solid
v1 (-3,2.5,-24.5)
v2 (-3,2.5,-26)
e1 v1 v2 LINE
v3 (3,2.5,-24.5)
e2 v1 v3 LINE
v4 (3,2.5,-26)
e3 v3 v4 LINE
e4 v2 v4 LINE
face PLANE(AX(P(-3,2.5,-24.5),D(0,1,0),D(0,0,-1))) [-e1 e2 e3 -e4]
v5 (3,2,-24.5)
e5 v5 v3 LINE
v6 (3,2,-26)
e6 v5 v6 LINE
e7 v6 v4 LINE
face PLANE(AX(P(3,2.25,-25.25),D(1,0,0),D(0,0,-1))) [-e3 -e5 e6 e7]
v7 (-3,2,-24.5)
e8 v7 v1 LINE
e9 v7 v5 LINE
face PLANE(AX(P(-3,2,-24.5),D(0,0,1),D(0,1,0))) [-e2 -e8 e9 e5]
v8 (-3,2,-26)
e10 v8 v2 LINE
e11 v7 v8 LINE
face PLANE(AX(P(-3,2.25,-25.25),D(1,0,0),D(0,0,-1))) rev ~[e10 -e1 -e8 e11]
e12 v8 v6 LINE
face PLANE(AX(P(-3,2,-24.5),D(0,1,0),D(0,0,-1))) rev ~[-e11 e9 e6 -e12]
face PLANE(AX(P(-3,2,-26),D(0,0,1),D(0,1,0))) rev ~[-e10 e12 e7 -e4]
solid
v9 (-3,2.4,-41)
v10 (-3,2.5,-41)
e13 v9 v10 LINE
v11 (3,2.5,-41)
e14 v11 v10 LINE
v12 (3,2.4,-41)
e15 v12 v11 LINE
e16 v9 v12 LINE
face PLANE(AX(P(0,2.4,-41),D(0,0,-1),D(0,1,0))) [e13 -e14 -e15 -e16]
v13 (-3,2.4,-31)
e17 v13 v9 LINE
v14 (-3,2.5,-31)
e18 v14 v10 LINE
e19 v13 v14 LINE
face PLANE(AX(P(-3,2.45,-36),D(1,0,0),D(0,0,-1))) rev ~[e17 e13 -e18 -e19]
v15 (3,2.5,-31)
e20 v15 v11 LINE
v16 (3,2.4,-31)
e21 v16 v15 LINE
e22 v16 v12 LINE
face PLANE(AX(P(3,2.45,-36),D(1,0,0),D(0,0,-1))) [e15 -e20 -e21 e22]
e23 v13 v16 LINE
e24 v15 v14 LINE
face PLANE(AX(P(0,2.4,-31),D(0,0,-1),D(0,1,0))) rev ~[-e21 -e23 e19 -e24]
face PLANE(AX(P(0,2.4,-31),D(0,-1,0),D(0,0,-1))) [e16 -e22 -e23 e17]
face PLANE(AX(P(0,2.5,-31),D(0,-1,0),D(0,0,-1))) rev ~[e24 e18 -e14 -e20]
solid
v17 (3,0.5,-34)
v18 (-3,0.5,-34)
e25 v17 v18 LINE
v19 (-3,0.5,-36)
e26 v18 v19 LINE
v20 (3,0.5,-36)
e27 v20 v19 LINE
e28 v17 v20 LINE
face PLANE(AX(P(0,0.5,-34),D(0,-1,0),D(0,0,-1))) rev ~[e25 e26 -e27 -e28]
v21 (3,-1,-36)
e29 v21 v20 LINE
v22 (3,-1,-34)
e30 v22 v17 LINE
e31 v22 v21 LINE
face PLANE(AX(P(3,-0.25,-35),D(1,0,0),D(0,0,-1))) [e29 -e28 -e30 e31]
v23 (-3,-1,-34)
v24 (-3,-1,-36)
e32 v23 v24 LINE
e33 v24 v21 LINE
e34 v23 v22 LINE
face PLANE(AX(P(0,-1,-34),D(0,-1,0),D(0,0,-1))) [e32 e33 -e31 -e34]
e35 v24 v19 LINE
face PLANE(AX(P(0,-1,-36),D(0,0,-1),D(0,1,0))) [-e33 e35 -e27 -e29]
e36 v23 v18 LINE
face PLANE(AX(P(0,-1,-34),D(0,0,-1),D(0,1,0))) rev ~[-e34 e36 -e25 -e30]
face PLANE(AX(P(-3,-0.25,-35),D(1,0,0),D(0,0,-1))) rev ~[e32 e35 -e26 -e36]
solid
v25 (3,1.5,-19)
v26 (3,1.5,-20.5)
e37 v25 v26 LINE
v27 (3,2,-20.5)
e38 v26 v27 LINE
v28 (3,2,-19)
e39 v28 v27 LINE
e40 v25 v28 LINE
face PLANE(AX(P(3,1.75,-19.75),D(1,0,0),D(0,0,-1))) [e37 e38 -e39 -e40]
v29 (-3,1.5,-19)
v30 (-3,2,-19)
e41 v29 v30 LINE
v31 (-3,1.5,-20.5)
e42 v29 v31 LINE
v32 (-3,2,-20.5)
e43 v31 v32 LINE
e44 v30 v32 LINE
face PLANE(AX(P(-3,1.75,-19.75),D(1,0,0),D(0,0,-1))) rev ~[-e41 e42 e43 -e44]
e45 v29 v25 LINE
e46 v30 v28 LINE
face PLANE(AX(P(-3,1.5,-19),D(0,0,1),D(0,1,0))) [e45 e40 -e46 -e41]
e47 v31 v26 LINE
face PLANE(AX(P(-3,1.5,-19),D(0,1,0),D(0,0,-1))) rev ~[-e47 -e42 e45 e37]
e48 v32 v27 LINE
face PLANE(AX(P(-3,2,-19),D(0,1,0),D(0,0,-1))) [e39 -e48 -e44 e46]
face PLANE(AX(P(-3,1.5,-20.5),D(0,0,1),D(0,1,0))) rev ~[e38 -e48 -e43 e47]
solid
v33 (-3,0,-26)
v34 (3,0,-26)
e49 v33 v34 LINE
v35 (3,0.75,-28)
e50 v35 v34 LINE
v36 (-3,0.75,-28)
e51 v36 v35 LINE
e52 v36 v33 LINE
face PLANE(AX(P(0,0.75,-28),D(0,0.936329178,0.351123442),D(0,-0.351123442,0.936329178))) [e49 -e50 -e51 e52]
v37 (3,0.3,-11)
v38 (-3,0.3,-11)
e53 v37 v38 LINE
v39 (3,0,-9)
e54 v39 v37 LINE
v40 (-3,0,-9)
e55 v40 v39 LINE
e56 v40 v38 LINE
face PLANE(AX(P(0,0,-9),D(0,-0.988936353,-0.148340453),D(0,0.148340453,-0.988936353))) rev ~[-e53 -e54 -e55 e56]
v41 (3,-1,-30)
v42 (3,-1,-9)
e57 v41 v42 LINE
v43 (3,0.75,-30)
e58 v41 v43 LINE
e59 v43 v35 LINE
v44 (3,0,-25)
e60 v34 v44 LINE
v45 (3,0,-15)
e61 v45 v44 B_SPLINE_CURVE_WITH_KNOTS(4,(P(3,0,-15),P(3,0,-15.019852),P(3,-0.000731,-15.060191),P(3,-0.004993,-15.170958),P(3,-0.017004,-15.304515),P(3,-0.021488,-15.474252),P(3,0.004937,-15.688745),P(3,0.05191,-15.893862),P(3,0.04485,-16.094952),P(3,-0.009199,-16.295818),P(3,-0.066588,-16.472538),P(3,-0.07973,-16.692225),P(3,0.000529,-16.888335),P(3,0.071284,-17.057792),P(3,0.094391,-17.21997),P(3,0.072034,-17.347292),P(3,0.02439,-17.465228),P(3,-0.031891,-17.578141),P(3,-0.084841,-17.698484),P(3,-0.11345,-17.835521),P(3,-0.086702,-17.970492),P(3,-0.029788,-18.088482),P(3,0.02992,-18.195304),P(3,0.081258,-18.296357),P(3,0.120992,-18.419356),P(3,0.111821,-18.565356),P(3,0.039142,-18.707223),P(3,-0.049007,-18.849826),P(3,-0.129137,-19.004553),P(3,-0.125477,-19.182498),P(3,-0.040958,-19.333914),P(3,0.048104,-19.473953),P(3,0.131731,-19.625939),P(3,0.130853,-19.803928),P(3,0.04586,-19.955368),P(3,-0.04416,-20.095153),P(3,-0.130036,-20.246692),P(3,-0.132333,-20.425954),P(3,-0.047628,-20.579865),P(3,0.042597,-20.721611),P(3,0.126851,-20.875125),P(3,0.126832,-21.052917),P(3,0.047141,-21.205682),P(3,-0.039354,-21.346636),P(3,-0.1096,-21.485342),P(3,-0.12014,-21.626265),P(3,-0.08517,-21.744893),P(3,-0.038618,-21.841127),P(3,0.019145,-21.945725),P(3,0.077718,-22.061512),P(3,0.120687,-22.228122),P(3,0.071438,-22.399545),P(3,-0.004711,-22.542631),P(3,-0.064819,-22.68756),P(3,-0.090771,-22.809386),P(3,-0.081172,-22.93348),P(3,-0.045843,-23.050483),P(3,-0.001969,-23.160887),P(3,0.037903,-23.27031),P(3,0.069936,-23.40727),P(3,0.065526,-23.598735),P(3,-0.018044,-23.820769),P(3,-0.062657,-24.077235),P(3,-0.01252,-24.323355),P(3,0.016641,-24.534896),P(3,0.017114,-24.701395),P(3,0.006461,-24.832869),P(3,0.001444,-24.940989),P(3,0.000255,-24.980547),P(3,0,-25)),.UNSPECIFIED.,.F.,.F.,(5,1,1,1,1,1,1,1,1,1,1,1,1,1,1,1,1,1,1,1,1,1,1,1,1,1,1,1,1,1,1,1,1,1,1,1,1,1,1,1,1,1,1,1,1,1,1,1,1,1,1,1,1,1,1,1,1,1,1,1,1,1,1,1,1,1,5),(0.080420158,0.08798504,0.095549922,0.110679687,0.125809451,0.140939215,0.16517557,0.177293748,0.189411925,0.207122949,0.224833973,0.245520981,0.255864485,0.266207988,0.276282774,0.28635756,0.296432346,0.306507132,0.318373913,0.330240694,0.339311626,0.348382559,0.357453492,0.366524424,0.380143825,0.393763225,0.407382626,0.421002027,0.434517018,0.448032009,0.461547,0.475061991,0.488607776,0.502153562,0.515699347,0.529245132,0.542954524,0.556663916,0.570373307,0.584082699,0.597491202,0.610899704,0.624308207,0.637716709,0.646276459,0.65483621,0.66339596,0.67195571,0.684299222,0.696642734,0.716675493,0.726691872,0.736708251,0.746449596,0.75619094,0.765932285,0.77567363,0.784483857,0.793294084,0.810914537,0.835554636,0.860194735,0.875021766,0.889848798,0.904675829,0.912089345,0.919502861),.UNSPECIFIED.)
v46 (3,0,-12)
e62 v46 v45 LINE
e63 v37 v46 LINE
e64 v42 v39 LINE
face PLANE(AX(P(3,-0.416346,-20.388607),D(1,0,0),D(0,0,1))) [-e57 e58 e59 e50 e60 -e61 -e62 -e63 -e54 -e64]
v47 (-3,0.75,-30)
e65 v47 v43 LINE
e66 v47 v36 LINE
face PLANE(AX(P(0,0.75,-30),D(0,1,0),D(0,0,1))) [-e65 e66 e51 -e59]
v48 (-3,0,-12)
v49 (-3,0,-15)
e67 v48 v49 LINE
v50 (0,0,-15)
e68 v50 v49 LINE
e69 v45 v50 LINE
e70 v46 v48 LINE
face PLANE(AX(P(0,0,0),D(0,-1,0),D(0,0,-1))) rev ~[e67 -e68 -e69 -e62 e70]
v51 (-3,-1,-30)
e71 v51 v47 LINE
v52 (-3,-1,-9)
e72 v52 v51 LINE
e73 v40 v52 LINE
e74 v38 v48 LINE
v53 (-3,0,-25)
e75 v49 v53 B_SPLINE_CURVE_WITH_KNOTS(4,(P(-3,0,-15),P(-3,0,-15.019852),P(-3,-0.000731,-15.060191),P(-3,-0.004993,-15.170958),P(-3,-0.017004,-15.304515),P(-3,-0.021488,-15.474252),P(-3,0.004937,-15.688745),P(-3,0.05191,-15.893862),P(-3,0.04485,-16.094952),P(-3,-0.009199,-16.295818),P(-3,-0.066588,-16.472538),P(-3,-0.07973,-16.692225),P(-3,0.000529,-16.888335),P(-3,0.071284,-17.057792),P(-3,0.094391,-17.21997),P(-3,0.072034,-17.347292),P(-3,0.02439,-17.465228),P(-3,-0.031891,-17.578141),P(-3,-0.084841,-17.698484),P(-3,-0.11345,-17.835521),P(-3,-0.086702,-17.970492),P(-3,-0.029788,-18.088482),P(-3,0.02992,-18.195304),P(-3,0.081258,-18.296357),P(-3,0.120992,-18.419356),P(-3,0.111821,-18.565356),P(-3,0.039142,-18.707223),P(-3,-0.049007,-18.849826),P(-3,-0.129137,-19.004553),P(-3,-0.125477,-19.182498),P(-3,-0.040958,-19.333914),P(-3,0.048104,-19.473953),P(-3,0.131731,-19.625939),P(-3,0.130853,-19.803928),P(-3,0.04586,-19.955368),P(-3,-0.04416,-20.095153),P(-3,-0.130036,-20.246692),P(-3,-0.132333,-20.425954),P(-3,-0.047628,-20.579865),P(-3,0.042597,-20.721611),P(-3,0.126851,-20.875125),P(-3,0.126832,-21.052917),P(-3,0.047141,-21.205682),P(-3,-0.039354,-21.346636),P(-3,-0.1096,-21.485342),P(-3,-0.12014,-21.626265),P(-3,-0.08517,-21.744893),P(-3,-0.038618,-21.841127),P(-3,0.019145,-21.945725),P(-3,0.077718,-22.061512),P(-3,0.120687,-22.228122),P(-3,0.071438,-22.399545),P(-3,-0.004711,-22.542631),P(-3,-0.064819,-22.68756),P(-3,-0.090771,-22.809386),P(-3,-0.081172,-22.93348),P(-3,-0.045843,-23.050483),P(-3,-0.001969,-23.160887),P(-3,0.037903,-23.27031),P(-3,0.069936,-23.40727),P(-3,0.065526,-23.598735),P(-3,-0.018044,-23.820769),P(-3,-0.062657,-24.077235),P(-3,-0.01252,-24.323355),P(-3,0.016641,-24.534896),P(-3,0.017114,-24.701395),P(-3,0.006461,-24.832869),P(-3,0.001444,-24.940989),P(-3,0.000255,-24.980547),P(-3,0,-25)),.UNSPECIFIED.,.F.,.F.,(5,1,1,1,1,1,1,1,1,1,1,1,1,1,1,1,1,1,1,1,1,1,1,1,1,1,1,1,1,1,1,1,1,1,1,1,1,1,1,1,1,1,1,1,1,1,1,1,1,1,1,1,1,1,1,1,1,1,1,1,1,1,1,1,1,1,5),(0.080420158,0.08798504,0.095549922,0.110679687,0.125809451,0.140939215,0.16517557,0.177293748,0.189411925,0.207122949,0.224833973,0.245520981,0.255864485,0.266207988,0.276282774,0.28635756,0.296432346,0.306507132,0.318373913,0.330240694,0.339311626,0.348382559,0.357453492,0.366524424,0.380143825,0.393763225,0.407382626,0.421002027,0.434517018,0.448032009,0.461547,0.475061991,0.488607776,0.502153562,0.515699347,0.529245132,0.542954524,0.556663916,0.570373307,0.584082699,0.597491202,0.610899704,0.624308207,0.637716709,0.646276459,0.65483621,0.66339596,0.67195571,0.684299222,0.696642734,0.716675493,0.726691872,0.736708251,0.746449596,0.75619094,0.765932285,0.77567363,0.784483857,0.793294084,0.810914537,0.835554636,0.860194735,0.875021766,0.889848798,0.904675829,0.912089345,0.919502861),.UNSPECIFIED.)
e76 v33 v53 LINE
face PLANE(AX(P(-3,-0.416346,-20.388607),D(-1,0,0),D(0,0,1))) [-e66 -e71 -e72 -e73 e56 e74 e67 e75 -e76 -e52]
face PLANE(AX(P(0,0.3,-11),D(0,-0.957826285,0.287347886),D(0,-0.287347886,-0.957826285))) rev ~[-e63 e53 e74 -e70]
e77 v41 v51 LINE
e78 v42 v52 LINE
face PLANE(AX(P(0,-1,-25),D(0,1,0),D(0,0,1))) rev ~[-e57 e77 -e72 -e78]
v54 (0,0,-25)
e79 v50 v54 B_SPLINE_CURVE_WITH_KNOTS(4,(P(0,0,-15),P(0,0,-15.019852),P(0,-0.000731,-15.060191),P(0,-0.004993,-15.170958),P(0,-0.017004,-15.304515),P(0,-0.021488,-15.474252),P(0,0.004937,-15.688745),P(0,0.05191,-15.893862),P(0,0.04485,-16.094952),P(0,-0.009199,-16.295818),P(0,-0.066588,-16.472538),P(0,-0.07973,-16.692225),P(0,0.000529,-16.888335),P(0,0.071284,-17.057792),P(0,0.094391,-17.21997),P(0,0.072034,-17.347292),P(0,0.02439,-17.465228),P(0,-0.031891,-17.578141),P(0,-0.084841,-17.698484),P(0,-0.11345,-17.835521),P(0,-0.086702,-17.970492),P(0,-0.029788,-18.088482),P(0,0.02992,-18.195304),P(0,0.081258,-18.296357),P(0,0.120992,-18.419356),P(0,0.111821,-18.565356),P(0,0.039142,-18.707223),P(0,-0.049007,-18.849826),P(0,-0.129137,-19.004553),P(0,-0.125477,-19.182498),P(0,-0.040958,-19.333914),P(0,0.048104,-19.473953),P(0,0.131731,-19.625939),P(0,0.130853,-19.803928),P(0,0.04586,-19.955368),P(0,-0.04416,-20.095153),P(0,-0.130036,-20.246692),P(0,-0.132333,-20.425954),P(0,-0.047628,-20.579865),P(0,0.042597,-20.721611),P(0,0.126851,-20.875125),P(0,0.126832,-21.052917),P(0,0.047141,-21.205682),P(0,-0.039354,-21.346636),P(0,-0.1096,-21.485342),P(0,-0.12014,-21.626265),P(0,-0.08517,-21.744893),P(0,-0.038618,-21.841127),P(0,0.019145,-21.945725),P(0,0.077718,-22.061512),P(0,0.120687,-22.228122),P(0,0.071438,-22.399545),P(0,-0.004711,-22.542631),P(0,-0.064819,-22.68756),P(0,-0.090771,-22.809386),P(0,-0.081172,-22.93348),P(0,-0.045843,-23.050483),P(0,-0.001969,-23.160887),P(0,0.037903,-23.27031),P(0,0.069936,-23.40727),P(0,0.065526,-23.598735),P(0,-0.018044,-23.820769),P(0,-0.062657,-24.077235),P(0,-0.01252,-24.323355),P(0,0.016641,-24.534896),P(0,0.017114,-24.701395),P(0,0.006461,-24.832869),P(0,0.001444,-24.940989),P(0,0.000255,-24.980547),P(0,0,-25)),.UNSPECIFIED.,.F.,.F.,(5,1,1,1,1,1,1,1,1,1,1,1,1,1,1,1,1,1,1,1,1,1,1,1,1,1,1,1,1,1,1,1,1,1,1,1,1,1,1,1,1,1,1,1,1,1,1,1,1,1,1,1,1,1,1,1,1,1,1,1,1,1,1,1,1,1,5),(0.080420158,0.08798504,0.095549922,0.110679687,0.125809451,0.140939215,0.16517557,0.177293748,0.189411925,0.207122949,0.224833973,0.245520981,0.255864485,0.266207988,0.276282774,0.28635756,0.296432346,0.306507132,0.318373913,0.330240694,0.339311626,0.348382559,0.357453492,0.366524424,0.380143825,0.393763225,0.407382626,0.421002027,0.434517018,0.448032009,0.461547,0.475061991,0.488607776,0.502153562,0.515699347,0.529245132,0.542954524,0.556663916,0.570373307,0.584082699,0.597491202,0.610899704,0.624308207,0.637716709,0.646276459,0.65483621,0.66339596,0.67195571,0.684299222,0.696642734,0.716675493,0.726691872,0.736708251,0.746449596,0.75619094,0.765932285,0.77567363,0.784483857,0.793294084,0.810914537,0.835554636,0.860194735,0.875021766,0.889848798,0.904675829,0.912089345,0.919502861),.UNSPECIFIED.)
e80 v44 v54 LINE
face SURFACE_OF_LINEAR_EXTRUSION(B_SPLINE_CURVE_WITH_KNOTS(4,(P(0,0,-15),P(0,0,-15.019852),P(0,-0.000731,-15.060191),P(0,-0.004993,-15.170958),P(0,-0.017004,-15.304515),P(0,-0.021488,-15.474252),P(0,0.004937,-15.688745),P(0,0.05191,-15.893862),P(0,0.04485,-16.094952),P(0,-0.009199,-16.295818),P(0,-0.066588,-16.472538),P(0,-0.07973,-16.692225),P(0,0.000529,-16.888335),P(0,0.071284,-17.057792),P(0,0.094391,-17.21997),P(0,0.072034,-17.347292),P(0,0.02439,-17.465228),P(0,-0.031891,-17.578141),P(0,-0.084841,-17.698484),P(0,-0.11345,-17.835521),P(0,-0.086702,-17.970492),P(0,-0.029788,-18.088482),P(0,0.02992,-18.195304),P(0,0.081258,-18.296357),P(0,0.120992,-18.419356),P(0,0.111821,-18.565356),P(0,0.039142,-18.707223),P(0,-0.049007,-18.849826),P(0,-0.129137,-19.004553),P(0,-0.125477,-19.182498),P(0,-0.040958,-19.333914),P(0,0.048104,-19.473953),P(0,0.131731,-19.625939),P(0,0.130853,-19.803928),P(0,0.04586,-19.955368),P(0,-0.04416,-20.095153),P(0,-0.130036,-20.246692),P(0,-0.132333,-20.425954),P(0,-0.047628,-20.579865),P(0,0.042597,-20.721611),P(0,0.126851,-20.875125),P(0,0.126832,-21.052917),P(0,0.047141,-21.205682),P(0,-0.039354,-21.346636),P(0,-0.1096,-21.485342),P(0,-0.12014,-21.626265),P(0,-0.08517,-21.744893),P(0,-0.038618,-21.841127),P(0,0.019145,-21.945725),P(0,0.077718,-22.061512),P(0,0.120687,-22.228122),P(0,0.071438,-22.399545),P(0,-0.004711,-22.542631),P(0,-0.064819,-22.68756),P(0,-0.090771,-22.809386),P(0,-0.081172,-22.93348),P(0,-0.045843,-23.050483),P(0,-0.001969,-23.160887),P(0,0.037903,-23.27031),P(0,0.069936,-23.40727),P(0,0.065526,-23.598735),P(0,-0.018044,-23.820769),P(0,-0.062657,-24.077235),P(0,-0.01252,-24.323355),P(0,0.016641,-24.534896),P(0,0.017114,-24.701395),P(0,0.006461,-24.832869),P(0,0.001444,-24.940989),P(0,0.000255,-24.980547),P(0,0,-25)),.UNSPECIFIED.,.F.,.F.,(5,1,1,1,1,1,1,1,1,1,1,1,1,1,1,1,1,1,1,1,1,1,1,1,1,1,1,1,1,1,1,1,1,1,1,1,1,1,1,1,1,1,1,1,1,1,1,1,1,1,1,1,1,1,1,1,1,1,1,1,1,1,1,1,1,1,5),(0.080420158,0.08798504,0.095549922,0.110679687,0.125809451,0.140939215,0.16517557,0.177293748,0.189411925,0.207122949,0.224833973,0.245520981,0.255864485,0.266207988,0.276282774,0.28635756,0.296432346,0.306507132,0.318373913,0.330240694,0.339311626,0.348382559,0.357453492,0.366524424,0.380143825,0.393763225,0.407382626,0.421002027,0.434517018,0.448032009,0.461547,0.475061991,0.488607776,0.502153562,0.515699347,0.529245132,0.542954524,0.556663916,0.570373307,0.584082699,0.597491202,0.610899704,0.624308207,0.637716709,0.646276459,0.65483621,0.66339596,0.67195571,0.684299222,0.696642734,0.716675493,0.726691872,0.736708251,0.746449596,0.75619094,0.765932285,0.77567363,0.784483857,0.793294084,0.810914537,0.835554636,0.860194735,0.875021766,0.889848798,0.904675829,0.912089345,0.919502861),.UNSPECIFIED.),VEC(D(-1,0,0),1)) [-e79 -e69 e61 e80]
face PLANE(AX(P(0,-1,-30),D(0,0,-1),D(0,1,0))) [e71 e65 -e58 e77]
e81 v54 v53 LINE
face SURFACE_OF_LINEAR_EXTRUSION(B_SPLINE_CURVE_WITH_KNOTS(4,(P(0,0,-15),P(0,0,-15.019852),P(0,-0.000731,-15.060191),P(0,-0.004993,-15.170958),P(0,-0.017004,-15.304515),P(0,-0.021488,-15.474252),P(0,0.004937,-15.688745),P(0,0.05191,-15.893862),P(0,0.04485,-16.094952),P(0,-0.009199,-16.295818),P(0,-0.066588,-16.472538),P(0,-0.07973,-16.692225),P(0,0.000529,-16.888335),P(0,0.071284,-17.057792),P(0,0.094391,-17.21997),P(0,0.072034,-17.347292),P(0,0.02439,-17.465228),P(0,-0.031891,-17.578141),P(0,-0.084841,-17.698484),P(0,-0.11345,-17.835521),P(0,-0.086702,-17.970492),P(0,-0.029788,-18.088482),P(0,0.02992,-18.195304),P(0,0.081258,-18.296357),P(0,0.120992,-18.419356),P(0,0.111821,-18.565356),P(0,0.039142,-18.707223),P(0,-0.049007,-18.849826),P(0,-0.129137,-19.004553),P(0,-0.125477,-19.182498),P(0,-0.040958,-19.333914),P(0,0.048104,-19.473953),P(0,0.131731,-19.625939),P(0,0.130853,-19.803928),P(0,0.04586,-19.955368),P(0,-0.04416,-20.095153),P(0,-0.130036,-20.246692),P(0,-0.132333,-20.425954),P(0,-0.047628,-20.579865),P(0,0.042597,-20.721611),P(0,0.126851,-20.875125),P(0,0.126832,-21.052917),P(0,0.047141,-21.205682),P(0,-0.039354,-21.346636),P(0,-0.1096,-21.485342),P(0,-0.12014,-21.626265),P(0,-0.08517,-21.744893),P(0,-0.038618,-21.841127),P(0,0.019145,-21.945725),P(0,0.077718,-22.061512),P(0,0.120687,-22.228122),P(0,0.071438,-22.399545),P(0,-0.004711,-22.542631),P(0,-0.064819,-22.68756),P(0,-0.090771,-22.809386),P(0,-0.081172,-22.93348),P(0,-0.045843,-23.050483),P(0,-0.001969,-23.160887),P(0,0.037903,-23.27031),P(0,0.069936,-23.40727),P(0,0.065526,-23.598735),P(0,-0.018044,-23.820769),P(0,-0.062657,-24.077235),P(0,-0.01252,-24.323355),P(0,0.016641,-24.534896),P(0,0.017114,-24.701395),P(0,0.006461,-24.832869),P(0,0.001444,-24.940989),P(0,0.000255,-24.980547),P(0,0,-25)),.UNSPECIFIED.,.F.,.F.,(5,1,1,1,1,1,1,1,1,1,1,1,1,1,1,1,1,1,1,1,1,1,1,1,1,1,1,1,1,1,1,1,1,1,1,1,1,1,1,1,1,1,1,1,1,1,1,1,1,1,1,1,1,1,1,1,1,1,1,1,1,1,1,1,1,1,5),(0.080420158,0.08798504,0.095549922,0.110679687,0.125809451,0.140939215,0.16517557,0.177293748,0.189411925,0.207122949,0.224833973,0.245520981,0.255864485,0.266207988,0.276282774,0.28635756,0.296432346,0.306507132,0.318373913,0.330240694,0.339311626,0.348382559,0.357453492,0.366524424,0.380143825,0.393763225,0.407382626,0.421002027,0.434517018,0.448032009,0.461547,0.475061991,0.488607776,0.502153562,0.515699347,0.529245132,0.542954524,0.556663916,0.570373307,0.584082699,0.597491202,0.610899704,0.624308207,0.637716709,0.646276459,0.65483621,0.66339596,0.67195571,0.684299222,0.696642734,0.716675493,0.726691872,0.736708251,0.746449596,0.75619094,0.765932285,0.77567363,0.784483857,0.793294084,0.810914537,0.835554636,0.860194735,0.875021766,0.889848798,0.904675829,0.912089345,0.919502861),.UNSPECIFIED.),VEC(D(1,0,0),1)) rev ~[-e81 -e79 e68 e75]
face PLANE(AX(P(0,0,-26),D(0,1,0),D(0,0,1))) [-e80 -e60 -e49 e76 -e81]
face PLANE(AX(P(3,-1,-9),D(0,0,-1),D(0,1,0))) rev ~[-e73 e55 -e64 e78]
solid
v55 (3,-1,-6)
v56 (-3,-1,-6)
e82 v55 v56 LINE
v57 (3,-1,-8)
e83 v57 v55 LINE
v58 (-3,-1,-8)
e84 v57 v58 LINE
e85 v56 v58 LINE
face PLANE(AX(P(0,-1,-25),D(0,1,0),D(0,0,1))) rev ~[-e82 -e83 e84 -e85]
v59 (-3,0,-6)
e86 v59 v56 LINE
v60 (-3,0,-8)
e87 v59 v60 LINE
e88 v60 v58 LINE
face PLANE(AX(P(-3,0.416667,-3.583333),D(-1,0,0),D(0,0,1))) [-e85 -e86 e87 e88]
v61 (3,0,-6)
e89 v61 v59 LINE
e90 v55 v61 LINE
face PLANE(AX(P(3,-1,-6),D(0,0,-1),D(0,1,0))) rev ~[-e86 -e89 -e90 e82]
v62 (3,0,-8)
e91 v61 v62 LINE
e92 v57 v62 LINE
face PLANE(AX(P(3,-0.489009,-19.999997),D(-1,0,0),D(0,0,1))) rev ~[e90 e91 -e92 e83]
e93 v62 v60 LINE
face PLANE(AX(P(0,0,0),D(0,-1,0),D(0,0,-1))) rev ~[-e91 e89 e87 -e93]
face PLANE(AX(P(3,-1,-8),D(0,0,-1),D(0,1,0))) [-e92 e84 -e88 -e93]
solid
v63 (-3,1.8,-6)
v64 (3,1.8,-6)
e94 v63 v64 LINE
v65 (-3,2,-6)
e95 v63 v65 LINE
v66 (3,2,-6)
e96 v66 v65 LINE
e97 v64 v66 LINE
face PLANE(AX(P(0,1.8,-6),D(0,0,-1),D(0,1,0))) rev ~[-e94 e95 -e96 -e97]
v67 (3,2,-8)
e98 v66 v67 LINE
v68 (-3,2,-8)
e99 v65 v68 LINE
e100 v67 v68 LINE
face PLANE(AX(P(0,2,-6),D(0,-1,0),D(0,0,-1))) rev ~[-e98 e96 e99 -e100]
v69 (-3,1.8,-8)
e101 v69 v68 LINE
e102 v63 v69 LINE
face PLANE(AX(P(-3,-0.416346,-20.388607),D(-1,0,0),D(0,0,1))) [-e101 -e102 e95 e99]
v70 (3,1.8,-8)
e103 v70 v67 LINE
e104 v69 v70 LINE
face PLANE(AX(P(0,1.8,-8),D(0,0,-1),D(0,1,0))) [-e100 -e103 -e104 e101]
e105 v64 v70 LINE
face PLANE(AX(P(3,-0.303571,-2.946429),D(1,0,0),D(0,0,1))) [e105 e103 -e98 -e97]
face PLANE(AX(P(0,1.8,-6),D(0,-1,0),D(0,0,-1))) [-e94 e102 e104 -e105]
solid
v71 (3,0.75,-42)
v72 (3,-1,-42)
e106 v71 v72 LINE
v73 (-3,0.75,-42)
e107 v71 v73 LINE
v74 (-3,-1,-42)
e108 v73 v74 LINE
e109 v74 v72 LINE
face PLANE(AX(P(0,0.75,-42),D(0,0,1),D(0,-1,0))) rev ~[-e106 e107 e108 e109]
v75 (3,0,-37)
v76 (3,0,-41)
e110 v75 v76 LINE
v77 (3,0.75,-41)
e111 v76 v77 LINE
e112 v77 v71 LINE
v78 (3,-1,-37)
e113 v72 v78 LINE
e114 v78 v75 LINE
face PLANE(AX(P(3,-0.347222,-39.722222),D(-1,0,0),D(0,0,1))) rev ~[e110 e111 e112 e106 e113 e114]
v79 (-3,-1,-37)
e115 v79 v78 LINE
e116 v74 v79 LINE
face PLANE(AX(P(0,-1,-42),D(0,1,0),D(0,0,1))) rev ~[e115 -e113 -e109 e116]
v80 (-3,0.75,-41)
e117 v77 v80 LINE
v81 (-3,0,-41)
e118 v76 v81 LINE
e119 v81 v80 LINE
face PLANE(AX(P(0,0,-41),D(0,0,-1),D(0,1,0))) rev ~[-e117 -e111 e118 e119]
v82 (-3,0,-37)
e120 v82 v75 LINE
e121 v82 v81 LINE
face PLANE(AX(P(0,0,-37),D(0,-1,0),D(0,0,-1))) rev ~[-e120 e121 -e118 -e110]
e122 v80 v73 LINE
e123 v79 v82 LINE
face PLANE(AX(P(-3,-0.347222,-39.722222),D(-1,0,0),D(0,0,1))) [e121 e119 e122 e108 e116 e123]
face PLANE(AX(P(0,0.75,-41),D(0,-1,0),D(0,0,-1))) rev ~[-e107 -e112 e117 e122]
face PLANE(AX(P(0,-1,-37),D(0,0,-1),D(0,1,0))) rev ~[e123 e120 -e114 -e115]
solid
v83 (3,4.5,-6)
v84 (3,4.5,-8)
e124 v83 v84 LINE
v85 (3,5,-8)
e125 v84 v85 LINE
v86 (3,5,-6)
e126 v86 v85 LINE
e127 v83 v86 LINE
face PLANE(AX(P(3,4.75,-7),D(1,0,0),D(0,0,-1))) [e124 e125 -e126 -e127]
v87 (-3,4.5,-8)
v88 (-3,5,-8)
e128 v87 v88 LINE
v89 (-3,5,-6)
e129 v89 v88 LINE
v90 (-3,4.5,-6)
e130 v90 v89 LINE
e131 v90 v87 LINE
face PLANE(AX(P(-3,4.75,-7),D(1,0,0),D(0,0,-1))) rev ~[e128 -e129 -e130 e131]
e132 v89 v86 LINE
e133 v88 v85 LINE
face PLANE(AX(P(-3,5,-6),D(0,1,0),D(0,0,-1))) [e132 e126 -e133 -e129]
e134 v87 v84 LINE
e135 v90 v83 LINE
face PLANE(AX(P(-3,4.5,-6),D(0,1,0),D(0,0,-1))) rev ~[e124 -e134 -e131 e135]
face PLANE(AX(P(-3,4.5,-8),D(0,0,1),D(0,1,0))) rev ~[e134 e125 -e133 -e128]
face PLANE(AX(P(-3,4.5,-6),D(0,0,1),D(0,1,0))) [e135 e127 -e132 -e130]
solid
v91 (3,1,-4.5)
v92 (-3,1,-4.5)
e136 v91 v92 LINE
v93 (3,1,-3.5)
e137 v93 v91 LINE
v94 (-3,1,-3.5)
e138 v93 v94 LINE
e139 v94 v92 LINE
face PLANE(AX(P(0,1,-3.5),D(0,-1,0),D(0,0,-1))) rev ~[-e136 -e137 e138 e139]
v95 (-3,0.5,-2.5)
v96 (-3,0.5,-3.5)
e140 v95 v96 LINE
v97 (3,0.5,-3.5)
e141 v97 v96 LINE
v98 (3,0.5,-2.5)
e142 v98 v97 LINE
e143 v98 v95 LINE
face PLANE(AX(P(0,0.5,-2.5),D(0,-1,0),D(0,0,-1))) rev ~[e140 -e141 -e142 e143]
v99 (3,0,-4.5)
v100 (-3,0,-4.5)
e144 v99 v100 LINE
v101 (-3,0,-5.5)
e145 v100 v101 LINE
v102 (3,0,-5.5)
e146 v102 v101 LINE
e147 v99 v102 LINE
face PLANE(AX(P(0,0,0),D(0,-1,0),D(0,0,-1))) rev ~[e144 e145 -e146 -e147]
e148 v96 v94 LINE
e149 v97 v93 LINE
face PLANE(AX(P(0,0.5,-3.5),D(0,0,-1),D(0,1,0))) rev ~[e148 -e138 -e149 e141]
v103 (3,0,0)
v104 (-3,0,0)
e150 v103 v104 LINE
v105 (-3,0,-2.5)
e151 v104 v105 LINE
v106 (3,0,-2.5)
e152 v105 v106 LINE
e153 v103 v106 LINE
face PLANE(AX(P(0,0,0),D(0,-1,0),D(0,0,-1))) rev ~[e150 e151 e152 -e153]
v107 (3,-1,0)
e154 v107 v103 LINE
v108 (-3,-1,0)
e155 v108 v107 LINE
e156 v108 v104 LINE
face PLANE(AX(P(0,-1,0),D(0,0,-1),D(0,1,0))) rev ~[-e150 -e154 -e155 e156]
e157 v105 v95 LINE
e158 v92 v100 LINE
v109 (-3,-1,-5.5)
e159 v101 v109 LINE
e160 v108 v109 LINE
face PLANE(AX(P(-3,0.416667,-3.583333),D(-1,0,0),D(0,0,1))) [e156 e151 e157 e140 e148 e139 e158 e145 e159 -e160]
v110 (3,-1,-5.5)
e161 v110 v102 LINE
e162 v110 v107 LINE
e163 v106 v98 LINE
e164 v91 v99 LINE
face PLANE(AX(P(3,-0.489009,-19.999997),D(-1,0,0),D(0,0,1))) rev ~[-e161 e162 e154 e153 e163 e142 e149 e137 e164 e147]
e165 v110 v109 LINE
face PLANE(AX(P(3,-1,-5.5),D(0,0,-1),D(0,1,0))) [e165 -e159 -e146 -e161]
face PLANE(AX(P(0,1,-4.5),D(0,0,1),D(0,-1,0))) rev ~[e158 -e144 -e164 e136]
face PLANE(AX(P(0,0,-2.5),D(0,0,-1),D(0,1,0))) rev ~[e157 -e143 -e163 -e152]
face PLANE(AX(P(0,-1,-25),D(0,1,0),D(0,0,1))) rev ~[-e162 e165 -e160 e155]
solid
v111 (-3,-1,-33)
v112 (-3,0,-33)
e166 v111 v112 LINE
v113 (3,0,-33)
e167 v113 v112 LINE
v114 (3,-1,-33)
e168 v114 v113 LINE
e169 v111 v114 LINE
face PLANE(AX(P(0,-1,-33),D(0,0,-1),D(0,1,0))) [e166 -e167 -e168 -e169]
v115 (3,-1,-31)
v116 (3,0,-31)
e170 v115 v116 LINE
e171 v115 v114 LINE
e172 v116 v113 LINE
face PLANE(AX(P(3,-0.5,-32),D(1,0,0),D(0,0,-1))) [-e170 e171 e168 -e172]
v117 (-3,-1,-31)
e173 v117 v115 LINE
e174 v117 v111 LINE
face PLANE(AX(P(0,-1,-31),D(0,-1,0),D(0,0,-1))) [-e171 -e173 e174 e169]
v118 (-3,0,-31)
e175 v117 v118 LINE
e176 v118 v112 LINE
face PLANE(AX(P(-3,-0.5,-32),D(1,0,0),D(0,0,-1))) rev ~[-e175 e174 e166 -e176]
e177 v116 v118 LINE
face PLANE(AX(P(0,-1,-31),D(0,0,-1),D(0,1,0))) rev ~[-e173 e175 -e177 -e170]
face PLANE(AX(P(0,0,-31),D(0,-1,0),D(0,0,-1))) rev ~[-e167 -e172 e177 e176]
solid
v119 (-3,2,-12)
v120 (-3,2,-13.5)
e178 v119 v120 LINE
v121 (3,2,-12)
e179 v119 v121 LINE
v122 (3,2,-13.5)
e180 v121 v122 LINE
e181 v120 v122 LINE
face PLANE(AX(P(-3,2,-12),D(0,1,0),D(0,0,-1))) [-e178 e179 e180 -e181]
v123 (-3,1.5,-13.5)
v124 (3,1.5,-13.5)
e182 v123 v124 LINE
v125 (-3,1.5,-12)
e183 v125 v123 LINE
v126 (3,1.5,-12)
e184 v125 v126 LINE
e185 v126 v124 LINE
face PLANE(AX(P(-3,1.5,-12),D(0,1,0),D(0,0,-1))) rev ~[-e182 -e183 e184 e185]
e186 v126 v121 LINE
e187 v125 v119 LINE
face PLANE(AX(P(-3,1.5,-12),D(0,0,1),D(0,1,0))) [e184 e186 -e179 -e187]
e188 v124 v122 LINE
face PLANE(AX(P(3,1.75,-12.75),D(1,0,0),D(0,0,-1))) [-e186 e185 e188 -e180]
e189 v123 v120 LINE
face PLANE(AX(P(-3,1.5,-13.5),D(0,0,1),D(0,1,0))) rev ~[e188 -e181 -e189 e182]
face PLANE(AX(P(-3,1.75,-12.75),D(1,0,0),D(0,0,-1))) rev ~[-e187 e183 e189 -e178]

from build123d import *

# Parameters (mm, degrees)
EXTRUDE_1_DEPTH             = 3
EXTRUDE_1_2_DEPTH           = 3
SKETCH_1_W                  = 10
SKETCH_1_H                  = 0.1
EXTRUDE_1_3_DEPTH           = 3
SKETCH_1_W_2                = 2
SKETCH_1_H_2                = 1.5
EXTRUDE_1_4_DEPTH           = 3
SKETCH_1_H_3                = 1
EXTRUDE_1_5_DEPTH           = 3
SKETCH_1_W_3                = 15
EXTRUDE_1_6_DEPTH           = 3
EXTRUDE_2_DEPTH             = 3
EXTRUDE_2_DEPTH_BACK        = 3
EXTRUDE_3_DEPTH             = 3
EXTRUDE_3_DEPTH_BACK        = 3
CUT_EXTRUDE_START           = 3
SKETCH_4_W                  = 0.5
SKETCH_4_H                  = 1
SKETCH_4_W_2                = 1
CUT_EXTRUDE_1_DEPTH         = 7.0000001
EXTRUDE_4_REACH             = 5
SKETCH_5_W                  = 2
SKETCH_5_H                  = 0.2
EXTRUDE_4_DIRECTION_2_REACH = 5
EXTRUDE_5_REACH             = 5
EXTRUDE_5_DIRECTION_2_REACH = 5
EXTRUDE_START               = -3
SKETCH_7_W                  = 1.5
SKETCH_7_H                  = 0.5
EXTRUDE_6_DEPTH             = 6
EXTRUDE_6_2_DEPTH           = 6
EXTRUDE_6_3_DEPTH           = 6
SKETCH_7_W_2                = 2
EXTRUDE_6_4_DEPTH           = 6


with BuildPart() as part:
    # 草图1 → 凸台-拉伸1 (new body, symmetric)
    with BuildSketch(Plane(origin=(0, 0, 0), x_dir=(0, 0, -1), z_dir=(1, 0, 0))):
        Polygon((37, 0), (41, 0), (41, 0.75), (42, 0.75), (42, -1), (37, -1), align=None)
    extrude(amount=EXTRUDE_1_DEPTH, both=True)


with BuildPart() as body_2:
    # 草图1 → Extrude 1 2 (new body, symmetric)
    with BuildSketch(Plane(origin=(0, 0, 0), x_dir=(0, 0, -1), z_dir=(1, 0, 0))):
        Polygon((30, -1), (30, 0.75), (28, 0.75), (26, 0), (25, 0), (25, -1), align=None)
    extrude(amount=EXTRUDE_1_2_DEPTH, both=True)



with BuildPart() as body_3:
    # 草图1 → Extrude 1 3 (new body, symmetric)
    with BuildSketch(Plane(origin=(0, 0, 0), x_dir=(0, 0, -1), z_dir=(1, 0, 0))):
        with Locations((36, 2.45)):
            Rectangle(SKETCH_1_W, SKETCH_1_H)
    extrude(amount=EXTRUDE_1_3_DEPTH, both=True)


with BuildPart() as body_4:
    # 草图1 → Extrude 1 4 (new body, symmetric)
    with BuildSketch(Plane(origin=(0, 0, 0), x_dir=(0, 0, -1), z_dir=(1, 0, 0))):
        with Locations((35, -0.25)):
            Rectangle(SKETCH_1_W_2, SKETCH_1_H_2)
    extrude(amount=EXTRUDE_1_4_DEPTH, both=True)


with BuildPart() as body_5:
    # 草图1 → Extrude 1 5 (new body, symmetric)
    with BuildSketch(Plane(origin=(0, 0, 0), x_dir=(0, 0, -1), z_dir=(1, 0, 0))):
        with Locations((32, -0.5)):
            Rectangle(SKETCH_1_W_2, SKETCH_1_H_3)
    extrude(amount=EXTRUDE_1_5_DEPTH, both=True)


with BuildPart() as body_6:
    # 草图1 → Extrude 1 6 (new body, symmetric)
    with BuildSketch(Plane(origin=(0, 0, 0), x_dir=(0, 0, -1), z_dir=(1, 0, 0))):
        with Locations((7.5, -0.5)):
            Rectangle(SKETCH_1_W_3, SKETCH_1_H_3)
    extrude(amount=EXTRUDE_1_6_DEPTH, both=True)


with BuildPart() as body_2_1:
    add(body_2.part)

    add(body_6.part)  # 凸台-拉伸2 merges body 6
    # 草图2 → 凸台-拉伸2 (add, two sides)
    with BuildSketch(Plane(origin=(0, 0, 0), x_dir=(0, 0, -1), z_dir=(1, 0, 0))) as extrude_2_sk:
        with BuildLine():
            Line((25, 0), (25, -1))
            Line((25, -1), (15, -1))
            Line((15, -1), (15, 0))
            add(Edge.make_bspline(
                [(15, 0), (15.019852379, 0), (15.060190558, -0.000731178), (15.170958225, -0.004993424), (15.304514791, -0.017003842), (15.474252144, -0.021487702), (15.68874463, 0.004937048), (15.893861657, 0.051909588), (16.094951986, 0.044850487), (16.295817919, -0.009198636), (16.472538126, -0.066588084), (16.69222545, -0.079729643), (16.888335149, 0.000528924), (17.057792019, 0.071283945), (17.21996953, 0.094390627), (17.347292458, 0.072033865), (17.465227624, 0.024389734), (17.578141197, -0.031891345), (17.698483931, -0.084840948), (17.835520741, -0.113450201), (17.97049161, -0.086701778), (18.088481622, -0.029788445), (18.195304005, 0.029919779), (18.296356752, 0.08125789), (18.419356141, 0.120991981), (18.565356334, 0.111821211), (18.707223229, 0.039142021), (18.849825719, -0.049006587), (19.004553287, -0.12913704), (19.182498155, -0.125477201), (19.333914462, -0.040957938), (19.473953485, 0.048104078), (19.625939165, 0.131731177), (19.803927697, 0.130852507), (19.955368453, 0.04586001), (20.095152965, -0.044159697), (20.246692264, -0.130036088), (20.425953601, -0.13233286), (20.579865028, -0.047628059), (20.721610821, 0.042597321), (20.875124879, 0.126850879), (21.052917266, 0.126831512), (21.205681567, 0.047140906), (21.346635582, -0.039353707), (21.485341862, -0.109599979), (21.626264904, -0.120139718), (21.74489324, -0.085169656), (21.841126768, -0.038617733), (21.945725191, 0.019145441), (22.061511684, 0.07771784), (22.228121545, 0.120686636), (22.399545356, 0.071438402), (22.54263056, -0.004711258), (22.687559945, -0.064819036), (22.80938576, -0.090770941), (22.933479525, -0.081171782), (23.050482764, -0.045843176), (23.160886922, -0.001969054), (23.270309992, 0.037903038), (23.407269761, 0.0699359), (23.598735058, 0.065525517), (23.820769111, -0.018043876), (24.077234518, -0.062657182), (24.323354641, -0.012520022), (24.534895962, 0.01664141), (24.70139475, 0.017113956), (24.832869481, 0.006461173), (24.940989195, 0.001444486), (24.980546523, 0.000255205), (25, 0)],
                knots=[0.080420158, 0.080420158, 0.080420158, 0.080420158, 0.080420158, 0.08798504, 0.095549922, 0.110679687, 0.125809451, 0.140939215, 0.16517557, 0.177293748, 0.189411925, 0.207122949, 0.224833973, 0.245520981, 0.255864485, 0.266207988, 0.276282774, 0.28635756, 0.296432346, 0.306507132, 0.318373913, 0.330240694, 0.339311626, 0.348382559, 0.357453492, 0.366524424, 0.380143825, 0.393763225, 0.407382626, 0.421002027, 0.434517018, 0.448032009, 0.461547, 0.475061991, 0.488607776, 0.502153562, 0.515699347, 0.529245132, 0.542954524, 0.556663916, 0.570373307, 0.584082699, 0.597491202, 0.610899704, 0.624308207, 0.637716709, 0.646276459, 0.65483621, 0.66339596, 0.67195571, 0.684299222, 0.696642734, 0.716675493, 0.726691872, 0.736708251, 0.746449596, 0.75619094, 0.765932285, 0.77567363, 0.784483857, 0.793294084, 0.810914537, 0.835554636, 0.860194735, 0.875021766, 0.889848798, 0.904675829, 0.912089345, 0.919502861, 0.919502861, 0.919502861, 0.919502861, 0.919502861], degree=4))
        make_face()
    extrude(amount=EXTRUDE_2_DEPTH)
    extrude(extrude_2_sk.sketch, amount=-EXTRUDE_2_DEPTH_BACK)

    # 草图3 → 凸台-拉伸3 (add, two sides)
    with BuildSketch(Plane(origin=(0, 0, 0), x_dir=(0, 0, -1), z_dir=(1, 0, 0))) as extrude_3_sk:
        Polygon((2.5, 0), (2.5, 0.5), (3.5, 0.5), (3.5, 1), (4.5, 1), (4.5, 0), align=None)
    extrude(amount=EXTRUDE_3_DEPTH)
    extrude(extrude_3_sk.sketch, amount=-EXTRUDE_3_DEPTH_BACK)

    # 草图4 → 切除-拉伸1 (cut, through all)
    with BuildSketch(Plane(origin=(0, 0, 0), x_dir=(0, 0, -1), z_dir=(1, 0, 0)).offset(CUT_EXTRUDE_START)):
        with Locations((5.75, -0.5)):
            Rectangle(SKETCH_4_W, SKETCH_4_H)
        with Locations((8.5, -0.5)):
            Rectangle(SKETCH_4_W_2, SKETCH_4_H)
    extrude(amount=-CUT_EXTRUDE_1_DEPTH, mode=Mode.SUBTRACT)


with BuildPart() as body_6_2:

    # 凸台-拉伸4: up to this face of the body (flat: up to its plane)
    extrude_4_end = Plane(body_2_1.part.faces().sort_by_distance((3, -0.303571429, -2.946428571))[0])
    # 草图5 → 凸台-拉伸4 (new body, up to the picked face)
    with BuildSketch(Plane(origin=(0, 0, 0), x_dir=(0, 0, -1), z_dir=(1, 0, 0)), mode=Mode.PRIVATE) as extrude_4_sk1:
        with Locations((7, 1.9)):
            Rectangle(SKETCH_5_W, SKETCH_5_H)
    extrude_4_tool1 = split(extrude(extrude_4_sk1.sketch, amount=EXTRUDE_4_REACH, mode=Mode.PRIVATE), bisect_by=extrude_4_end, keep=Keep.BOTH, mode=Mode.PRIVATE)
    add(extrude_4_tool1.solids().sort_by_distance((0, 1.9, -7))[0])


    # 凸台-拉伸4 direction 2: up to this face of the body (flat: up to its plane)
    extrude_4_direction_2_end = Plane(body_2_1.part.faces().sort_by_distance((-3, -0.416345745, -20.388606858))[0])
    # 草图5 → 凸台-拉伸4 direction 2 (add, up to the picked face)
    with BuildSketch(Plane(origin=(0, 0, 0), x_dir=(0, 0, -1), z_dir=(1, 0, 0)), mode=Mode.PRIVATE) as extrude_4_direction_2_sk1:
        with Locations((7, 1.9)):
            Rectangle(SKETCH_5_W, SKETCH_5_H)
    extrude_4_direction_2_tool1 = split(extrude(extrude_4_direction_2_sk1.sketch, amount=-EXTRUDE_4_DIRECTION_2_REACH, mode=Mode.PRIVATE), bisect_by=extrude_4_direction_2_end, keep=Keep.BOTH, mode=Mode.PRIVATE)
    add(extrude_4_direction_2_tool1.solids().sort_by_distance((0, 1.9, -7))[0])


with BuildPart() as body_2_2:
    add(body_2_1.part)

    # 凸台-拉伸5: up to this face of the body (flat: up to its plane)
    extrude_5_end = Plane(body_2_2.part.faces().sort_by_distance((3, -0.416345745, -20.388606858))[0])
    # 草图6 → 凸台-拉伸5 (add, up to the picked face)
    with BuildSketch(Plane(origin=(0, 0, 0), x_dir=(0, 0, -1), z_dir=(1, 0, 0)), mode=Mode.PRIVATE) as extrude_5_sk1:
        Polygon((9, 0), (11, 0.3), (12, 0), align=None)
    extrude_5_tool1 = split(extrude(extrude_5_sk1.sketch, amount=EXTRUDE_5_REACH, mode=Mode.PRIVATE), bisect_by=extrude_5_end, keep=Keep.BOTH, mode=Mode.PRIVATE)
    add(extrude_5_tool1.solids().sort_by_distance((0, 0.1, -10.666667))[0])

    # 凸台-拉伸5 direction 2: up to this face of the body (flat: up to its plane)
    extrude_5_direction_2_end = Plane(body_2_2.part.faces().sort_by_distance((-3, -0.416345745, -20.388606858))[0])
    # 草图6 → 凸台-拉伸5 direction 2 (add, up to the picked face)
    with BuildSketch(Plane(origin=(0, 0, 0), x_dir=(0, 0, -1), z_dir=(1, 0, 0)), mode=Mode.PRIVATE) as extrude_5_direction_2_sk1:
        Polygon((9, 0), (11, 0.3), (12, 0), align=None)
    extrude_5_direction_2_tool1 = split(extrude(extrude_5_direction_2_sk1.sketch, amount=-EXTRUDE_5_DIRECTION_2_REACH, mode=Mode.PRIVATE), bisect_by=extrude_5_direction_2_end, keep=Keep.BOTH, mode=Mode.PRIVATE)
    add(extrude_5_direction_2_tool1.solids().sort_by_distance((0, 0.1, -10.666667))[0])


with BuildPart() as body_7:
    # 草图7 → 凸台-拉伸6 (new body)
    with BuildSketch(Plane(origin=(0, 0, 0), x_dir=(0, 0, -1), z_dir=(1, 0, 0)).offset(EXTRUDE_START)):
        with Locations((12.75, 1.75)):
            Rectangle(SKETCH_7_W, SKETCH_7_H)
    extrude(amount=EXTRUDE_6_DEPTH)


with BuildPart() as body_8:
    # 草图7 → Extrude 6 2 (new body)
    with BuildSketch(Plane(origin=(0, 0, 0), x_dir=(0, 0, -1), z_dir=(1, 0, 0)).offset(EXTRUDE_START)):
        with Locations((25.25, 2.25)):
            Rectangle(SKETCH_7_W, SKETCH_7_H)
    extrude(amount=EXTRUDE_6_2_DEPTH)


with BuildPart() as body_9:
    # 草图7 → Extrude 6 3 (new body)
    with BuildSketch(Plane(origin=(0, 0, 0), x_dir=(0, 0, -1), z_dir=(1, 0, 0)).offset(EXTRUDE_START)):
        with Locations((19.75, 1.75)):
            Rectangle(SKETCH_7_W, SKETCH_7_H)
    extrude(amount=EXTRUDE_6_3_DEPTH)


with BuildPart() as body_10:
    # 草图7 → Extrude 6 4 (new body)
    with BuildSketch(Plane(origin=(0, 0, 0), x_dir=(0, 0, -1), z_dir=(1, 0, 0)).offset(EXTRUDE_START)):
        with Locations((7, 4.75)):
            Rectangle(SKETCH_7_W_2, SKETCH_7_H)
    extrude(amount=EXTRUDE_6_4_DEPTH)


solid = Compound([part.part, body_3.part, body_4.part, body_5.part, body_6_2.part, body_2_2.part, body_7.part, body_8.part, body_9.part, body_10.part])
